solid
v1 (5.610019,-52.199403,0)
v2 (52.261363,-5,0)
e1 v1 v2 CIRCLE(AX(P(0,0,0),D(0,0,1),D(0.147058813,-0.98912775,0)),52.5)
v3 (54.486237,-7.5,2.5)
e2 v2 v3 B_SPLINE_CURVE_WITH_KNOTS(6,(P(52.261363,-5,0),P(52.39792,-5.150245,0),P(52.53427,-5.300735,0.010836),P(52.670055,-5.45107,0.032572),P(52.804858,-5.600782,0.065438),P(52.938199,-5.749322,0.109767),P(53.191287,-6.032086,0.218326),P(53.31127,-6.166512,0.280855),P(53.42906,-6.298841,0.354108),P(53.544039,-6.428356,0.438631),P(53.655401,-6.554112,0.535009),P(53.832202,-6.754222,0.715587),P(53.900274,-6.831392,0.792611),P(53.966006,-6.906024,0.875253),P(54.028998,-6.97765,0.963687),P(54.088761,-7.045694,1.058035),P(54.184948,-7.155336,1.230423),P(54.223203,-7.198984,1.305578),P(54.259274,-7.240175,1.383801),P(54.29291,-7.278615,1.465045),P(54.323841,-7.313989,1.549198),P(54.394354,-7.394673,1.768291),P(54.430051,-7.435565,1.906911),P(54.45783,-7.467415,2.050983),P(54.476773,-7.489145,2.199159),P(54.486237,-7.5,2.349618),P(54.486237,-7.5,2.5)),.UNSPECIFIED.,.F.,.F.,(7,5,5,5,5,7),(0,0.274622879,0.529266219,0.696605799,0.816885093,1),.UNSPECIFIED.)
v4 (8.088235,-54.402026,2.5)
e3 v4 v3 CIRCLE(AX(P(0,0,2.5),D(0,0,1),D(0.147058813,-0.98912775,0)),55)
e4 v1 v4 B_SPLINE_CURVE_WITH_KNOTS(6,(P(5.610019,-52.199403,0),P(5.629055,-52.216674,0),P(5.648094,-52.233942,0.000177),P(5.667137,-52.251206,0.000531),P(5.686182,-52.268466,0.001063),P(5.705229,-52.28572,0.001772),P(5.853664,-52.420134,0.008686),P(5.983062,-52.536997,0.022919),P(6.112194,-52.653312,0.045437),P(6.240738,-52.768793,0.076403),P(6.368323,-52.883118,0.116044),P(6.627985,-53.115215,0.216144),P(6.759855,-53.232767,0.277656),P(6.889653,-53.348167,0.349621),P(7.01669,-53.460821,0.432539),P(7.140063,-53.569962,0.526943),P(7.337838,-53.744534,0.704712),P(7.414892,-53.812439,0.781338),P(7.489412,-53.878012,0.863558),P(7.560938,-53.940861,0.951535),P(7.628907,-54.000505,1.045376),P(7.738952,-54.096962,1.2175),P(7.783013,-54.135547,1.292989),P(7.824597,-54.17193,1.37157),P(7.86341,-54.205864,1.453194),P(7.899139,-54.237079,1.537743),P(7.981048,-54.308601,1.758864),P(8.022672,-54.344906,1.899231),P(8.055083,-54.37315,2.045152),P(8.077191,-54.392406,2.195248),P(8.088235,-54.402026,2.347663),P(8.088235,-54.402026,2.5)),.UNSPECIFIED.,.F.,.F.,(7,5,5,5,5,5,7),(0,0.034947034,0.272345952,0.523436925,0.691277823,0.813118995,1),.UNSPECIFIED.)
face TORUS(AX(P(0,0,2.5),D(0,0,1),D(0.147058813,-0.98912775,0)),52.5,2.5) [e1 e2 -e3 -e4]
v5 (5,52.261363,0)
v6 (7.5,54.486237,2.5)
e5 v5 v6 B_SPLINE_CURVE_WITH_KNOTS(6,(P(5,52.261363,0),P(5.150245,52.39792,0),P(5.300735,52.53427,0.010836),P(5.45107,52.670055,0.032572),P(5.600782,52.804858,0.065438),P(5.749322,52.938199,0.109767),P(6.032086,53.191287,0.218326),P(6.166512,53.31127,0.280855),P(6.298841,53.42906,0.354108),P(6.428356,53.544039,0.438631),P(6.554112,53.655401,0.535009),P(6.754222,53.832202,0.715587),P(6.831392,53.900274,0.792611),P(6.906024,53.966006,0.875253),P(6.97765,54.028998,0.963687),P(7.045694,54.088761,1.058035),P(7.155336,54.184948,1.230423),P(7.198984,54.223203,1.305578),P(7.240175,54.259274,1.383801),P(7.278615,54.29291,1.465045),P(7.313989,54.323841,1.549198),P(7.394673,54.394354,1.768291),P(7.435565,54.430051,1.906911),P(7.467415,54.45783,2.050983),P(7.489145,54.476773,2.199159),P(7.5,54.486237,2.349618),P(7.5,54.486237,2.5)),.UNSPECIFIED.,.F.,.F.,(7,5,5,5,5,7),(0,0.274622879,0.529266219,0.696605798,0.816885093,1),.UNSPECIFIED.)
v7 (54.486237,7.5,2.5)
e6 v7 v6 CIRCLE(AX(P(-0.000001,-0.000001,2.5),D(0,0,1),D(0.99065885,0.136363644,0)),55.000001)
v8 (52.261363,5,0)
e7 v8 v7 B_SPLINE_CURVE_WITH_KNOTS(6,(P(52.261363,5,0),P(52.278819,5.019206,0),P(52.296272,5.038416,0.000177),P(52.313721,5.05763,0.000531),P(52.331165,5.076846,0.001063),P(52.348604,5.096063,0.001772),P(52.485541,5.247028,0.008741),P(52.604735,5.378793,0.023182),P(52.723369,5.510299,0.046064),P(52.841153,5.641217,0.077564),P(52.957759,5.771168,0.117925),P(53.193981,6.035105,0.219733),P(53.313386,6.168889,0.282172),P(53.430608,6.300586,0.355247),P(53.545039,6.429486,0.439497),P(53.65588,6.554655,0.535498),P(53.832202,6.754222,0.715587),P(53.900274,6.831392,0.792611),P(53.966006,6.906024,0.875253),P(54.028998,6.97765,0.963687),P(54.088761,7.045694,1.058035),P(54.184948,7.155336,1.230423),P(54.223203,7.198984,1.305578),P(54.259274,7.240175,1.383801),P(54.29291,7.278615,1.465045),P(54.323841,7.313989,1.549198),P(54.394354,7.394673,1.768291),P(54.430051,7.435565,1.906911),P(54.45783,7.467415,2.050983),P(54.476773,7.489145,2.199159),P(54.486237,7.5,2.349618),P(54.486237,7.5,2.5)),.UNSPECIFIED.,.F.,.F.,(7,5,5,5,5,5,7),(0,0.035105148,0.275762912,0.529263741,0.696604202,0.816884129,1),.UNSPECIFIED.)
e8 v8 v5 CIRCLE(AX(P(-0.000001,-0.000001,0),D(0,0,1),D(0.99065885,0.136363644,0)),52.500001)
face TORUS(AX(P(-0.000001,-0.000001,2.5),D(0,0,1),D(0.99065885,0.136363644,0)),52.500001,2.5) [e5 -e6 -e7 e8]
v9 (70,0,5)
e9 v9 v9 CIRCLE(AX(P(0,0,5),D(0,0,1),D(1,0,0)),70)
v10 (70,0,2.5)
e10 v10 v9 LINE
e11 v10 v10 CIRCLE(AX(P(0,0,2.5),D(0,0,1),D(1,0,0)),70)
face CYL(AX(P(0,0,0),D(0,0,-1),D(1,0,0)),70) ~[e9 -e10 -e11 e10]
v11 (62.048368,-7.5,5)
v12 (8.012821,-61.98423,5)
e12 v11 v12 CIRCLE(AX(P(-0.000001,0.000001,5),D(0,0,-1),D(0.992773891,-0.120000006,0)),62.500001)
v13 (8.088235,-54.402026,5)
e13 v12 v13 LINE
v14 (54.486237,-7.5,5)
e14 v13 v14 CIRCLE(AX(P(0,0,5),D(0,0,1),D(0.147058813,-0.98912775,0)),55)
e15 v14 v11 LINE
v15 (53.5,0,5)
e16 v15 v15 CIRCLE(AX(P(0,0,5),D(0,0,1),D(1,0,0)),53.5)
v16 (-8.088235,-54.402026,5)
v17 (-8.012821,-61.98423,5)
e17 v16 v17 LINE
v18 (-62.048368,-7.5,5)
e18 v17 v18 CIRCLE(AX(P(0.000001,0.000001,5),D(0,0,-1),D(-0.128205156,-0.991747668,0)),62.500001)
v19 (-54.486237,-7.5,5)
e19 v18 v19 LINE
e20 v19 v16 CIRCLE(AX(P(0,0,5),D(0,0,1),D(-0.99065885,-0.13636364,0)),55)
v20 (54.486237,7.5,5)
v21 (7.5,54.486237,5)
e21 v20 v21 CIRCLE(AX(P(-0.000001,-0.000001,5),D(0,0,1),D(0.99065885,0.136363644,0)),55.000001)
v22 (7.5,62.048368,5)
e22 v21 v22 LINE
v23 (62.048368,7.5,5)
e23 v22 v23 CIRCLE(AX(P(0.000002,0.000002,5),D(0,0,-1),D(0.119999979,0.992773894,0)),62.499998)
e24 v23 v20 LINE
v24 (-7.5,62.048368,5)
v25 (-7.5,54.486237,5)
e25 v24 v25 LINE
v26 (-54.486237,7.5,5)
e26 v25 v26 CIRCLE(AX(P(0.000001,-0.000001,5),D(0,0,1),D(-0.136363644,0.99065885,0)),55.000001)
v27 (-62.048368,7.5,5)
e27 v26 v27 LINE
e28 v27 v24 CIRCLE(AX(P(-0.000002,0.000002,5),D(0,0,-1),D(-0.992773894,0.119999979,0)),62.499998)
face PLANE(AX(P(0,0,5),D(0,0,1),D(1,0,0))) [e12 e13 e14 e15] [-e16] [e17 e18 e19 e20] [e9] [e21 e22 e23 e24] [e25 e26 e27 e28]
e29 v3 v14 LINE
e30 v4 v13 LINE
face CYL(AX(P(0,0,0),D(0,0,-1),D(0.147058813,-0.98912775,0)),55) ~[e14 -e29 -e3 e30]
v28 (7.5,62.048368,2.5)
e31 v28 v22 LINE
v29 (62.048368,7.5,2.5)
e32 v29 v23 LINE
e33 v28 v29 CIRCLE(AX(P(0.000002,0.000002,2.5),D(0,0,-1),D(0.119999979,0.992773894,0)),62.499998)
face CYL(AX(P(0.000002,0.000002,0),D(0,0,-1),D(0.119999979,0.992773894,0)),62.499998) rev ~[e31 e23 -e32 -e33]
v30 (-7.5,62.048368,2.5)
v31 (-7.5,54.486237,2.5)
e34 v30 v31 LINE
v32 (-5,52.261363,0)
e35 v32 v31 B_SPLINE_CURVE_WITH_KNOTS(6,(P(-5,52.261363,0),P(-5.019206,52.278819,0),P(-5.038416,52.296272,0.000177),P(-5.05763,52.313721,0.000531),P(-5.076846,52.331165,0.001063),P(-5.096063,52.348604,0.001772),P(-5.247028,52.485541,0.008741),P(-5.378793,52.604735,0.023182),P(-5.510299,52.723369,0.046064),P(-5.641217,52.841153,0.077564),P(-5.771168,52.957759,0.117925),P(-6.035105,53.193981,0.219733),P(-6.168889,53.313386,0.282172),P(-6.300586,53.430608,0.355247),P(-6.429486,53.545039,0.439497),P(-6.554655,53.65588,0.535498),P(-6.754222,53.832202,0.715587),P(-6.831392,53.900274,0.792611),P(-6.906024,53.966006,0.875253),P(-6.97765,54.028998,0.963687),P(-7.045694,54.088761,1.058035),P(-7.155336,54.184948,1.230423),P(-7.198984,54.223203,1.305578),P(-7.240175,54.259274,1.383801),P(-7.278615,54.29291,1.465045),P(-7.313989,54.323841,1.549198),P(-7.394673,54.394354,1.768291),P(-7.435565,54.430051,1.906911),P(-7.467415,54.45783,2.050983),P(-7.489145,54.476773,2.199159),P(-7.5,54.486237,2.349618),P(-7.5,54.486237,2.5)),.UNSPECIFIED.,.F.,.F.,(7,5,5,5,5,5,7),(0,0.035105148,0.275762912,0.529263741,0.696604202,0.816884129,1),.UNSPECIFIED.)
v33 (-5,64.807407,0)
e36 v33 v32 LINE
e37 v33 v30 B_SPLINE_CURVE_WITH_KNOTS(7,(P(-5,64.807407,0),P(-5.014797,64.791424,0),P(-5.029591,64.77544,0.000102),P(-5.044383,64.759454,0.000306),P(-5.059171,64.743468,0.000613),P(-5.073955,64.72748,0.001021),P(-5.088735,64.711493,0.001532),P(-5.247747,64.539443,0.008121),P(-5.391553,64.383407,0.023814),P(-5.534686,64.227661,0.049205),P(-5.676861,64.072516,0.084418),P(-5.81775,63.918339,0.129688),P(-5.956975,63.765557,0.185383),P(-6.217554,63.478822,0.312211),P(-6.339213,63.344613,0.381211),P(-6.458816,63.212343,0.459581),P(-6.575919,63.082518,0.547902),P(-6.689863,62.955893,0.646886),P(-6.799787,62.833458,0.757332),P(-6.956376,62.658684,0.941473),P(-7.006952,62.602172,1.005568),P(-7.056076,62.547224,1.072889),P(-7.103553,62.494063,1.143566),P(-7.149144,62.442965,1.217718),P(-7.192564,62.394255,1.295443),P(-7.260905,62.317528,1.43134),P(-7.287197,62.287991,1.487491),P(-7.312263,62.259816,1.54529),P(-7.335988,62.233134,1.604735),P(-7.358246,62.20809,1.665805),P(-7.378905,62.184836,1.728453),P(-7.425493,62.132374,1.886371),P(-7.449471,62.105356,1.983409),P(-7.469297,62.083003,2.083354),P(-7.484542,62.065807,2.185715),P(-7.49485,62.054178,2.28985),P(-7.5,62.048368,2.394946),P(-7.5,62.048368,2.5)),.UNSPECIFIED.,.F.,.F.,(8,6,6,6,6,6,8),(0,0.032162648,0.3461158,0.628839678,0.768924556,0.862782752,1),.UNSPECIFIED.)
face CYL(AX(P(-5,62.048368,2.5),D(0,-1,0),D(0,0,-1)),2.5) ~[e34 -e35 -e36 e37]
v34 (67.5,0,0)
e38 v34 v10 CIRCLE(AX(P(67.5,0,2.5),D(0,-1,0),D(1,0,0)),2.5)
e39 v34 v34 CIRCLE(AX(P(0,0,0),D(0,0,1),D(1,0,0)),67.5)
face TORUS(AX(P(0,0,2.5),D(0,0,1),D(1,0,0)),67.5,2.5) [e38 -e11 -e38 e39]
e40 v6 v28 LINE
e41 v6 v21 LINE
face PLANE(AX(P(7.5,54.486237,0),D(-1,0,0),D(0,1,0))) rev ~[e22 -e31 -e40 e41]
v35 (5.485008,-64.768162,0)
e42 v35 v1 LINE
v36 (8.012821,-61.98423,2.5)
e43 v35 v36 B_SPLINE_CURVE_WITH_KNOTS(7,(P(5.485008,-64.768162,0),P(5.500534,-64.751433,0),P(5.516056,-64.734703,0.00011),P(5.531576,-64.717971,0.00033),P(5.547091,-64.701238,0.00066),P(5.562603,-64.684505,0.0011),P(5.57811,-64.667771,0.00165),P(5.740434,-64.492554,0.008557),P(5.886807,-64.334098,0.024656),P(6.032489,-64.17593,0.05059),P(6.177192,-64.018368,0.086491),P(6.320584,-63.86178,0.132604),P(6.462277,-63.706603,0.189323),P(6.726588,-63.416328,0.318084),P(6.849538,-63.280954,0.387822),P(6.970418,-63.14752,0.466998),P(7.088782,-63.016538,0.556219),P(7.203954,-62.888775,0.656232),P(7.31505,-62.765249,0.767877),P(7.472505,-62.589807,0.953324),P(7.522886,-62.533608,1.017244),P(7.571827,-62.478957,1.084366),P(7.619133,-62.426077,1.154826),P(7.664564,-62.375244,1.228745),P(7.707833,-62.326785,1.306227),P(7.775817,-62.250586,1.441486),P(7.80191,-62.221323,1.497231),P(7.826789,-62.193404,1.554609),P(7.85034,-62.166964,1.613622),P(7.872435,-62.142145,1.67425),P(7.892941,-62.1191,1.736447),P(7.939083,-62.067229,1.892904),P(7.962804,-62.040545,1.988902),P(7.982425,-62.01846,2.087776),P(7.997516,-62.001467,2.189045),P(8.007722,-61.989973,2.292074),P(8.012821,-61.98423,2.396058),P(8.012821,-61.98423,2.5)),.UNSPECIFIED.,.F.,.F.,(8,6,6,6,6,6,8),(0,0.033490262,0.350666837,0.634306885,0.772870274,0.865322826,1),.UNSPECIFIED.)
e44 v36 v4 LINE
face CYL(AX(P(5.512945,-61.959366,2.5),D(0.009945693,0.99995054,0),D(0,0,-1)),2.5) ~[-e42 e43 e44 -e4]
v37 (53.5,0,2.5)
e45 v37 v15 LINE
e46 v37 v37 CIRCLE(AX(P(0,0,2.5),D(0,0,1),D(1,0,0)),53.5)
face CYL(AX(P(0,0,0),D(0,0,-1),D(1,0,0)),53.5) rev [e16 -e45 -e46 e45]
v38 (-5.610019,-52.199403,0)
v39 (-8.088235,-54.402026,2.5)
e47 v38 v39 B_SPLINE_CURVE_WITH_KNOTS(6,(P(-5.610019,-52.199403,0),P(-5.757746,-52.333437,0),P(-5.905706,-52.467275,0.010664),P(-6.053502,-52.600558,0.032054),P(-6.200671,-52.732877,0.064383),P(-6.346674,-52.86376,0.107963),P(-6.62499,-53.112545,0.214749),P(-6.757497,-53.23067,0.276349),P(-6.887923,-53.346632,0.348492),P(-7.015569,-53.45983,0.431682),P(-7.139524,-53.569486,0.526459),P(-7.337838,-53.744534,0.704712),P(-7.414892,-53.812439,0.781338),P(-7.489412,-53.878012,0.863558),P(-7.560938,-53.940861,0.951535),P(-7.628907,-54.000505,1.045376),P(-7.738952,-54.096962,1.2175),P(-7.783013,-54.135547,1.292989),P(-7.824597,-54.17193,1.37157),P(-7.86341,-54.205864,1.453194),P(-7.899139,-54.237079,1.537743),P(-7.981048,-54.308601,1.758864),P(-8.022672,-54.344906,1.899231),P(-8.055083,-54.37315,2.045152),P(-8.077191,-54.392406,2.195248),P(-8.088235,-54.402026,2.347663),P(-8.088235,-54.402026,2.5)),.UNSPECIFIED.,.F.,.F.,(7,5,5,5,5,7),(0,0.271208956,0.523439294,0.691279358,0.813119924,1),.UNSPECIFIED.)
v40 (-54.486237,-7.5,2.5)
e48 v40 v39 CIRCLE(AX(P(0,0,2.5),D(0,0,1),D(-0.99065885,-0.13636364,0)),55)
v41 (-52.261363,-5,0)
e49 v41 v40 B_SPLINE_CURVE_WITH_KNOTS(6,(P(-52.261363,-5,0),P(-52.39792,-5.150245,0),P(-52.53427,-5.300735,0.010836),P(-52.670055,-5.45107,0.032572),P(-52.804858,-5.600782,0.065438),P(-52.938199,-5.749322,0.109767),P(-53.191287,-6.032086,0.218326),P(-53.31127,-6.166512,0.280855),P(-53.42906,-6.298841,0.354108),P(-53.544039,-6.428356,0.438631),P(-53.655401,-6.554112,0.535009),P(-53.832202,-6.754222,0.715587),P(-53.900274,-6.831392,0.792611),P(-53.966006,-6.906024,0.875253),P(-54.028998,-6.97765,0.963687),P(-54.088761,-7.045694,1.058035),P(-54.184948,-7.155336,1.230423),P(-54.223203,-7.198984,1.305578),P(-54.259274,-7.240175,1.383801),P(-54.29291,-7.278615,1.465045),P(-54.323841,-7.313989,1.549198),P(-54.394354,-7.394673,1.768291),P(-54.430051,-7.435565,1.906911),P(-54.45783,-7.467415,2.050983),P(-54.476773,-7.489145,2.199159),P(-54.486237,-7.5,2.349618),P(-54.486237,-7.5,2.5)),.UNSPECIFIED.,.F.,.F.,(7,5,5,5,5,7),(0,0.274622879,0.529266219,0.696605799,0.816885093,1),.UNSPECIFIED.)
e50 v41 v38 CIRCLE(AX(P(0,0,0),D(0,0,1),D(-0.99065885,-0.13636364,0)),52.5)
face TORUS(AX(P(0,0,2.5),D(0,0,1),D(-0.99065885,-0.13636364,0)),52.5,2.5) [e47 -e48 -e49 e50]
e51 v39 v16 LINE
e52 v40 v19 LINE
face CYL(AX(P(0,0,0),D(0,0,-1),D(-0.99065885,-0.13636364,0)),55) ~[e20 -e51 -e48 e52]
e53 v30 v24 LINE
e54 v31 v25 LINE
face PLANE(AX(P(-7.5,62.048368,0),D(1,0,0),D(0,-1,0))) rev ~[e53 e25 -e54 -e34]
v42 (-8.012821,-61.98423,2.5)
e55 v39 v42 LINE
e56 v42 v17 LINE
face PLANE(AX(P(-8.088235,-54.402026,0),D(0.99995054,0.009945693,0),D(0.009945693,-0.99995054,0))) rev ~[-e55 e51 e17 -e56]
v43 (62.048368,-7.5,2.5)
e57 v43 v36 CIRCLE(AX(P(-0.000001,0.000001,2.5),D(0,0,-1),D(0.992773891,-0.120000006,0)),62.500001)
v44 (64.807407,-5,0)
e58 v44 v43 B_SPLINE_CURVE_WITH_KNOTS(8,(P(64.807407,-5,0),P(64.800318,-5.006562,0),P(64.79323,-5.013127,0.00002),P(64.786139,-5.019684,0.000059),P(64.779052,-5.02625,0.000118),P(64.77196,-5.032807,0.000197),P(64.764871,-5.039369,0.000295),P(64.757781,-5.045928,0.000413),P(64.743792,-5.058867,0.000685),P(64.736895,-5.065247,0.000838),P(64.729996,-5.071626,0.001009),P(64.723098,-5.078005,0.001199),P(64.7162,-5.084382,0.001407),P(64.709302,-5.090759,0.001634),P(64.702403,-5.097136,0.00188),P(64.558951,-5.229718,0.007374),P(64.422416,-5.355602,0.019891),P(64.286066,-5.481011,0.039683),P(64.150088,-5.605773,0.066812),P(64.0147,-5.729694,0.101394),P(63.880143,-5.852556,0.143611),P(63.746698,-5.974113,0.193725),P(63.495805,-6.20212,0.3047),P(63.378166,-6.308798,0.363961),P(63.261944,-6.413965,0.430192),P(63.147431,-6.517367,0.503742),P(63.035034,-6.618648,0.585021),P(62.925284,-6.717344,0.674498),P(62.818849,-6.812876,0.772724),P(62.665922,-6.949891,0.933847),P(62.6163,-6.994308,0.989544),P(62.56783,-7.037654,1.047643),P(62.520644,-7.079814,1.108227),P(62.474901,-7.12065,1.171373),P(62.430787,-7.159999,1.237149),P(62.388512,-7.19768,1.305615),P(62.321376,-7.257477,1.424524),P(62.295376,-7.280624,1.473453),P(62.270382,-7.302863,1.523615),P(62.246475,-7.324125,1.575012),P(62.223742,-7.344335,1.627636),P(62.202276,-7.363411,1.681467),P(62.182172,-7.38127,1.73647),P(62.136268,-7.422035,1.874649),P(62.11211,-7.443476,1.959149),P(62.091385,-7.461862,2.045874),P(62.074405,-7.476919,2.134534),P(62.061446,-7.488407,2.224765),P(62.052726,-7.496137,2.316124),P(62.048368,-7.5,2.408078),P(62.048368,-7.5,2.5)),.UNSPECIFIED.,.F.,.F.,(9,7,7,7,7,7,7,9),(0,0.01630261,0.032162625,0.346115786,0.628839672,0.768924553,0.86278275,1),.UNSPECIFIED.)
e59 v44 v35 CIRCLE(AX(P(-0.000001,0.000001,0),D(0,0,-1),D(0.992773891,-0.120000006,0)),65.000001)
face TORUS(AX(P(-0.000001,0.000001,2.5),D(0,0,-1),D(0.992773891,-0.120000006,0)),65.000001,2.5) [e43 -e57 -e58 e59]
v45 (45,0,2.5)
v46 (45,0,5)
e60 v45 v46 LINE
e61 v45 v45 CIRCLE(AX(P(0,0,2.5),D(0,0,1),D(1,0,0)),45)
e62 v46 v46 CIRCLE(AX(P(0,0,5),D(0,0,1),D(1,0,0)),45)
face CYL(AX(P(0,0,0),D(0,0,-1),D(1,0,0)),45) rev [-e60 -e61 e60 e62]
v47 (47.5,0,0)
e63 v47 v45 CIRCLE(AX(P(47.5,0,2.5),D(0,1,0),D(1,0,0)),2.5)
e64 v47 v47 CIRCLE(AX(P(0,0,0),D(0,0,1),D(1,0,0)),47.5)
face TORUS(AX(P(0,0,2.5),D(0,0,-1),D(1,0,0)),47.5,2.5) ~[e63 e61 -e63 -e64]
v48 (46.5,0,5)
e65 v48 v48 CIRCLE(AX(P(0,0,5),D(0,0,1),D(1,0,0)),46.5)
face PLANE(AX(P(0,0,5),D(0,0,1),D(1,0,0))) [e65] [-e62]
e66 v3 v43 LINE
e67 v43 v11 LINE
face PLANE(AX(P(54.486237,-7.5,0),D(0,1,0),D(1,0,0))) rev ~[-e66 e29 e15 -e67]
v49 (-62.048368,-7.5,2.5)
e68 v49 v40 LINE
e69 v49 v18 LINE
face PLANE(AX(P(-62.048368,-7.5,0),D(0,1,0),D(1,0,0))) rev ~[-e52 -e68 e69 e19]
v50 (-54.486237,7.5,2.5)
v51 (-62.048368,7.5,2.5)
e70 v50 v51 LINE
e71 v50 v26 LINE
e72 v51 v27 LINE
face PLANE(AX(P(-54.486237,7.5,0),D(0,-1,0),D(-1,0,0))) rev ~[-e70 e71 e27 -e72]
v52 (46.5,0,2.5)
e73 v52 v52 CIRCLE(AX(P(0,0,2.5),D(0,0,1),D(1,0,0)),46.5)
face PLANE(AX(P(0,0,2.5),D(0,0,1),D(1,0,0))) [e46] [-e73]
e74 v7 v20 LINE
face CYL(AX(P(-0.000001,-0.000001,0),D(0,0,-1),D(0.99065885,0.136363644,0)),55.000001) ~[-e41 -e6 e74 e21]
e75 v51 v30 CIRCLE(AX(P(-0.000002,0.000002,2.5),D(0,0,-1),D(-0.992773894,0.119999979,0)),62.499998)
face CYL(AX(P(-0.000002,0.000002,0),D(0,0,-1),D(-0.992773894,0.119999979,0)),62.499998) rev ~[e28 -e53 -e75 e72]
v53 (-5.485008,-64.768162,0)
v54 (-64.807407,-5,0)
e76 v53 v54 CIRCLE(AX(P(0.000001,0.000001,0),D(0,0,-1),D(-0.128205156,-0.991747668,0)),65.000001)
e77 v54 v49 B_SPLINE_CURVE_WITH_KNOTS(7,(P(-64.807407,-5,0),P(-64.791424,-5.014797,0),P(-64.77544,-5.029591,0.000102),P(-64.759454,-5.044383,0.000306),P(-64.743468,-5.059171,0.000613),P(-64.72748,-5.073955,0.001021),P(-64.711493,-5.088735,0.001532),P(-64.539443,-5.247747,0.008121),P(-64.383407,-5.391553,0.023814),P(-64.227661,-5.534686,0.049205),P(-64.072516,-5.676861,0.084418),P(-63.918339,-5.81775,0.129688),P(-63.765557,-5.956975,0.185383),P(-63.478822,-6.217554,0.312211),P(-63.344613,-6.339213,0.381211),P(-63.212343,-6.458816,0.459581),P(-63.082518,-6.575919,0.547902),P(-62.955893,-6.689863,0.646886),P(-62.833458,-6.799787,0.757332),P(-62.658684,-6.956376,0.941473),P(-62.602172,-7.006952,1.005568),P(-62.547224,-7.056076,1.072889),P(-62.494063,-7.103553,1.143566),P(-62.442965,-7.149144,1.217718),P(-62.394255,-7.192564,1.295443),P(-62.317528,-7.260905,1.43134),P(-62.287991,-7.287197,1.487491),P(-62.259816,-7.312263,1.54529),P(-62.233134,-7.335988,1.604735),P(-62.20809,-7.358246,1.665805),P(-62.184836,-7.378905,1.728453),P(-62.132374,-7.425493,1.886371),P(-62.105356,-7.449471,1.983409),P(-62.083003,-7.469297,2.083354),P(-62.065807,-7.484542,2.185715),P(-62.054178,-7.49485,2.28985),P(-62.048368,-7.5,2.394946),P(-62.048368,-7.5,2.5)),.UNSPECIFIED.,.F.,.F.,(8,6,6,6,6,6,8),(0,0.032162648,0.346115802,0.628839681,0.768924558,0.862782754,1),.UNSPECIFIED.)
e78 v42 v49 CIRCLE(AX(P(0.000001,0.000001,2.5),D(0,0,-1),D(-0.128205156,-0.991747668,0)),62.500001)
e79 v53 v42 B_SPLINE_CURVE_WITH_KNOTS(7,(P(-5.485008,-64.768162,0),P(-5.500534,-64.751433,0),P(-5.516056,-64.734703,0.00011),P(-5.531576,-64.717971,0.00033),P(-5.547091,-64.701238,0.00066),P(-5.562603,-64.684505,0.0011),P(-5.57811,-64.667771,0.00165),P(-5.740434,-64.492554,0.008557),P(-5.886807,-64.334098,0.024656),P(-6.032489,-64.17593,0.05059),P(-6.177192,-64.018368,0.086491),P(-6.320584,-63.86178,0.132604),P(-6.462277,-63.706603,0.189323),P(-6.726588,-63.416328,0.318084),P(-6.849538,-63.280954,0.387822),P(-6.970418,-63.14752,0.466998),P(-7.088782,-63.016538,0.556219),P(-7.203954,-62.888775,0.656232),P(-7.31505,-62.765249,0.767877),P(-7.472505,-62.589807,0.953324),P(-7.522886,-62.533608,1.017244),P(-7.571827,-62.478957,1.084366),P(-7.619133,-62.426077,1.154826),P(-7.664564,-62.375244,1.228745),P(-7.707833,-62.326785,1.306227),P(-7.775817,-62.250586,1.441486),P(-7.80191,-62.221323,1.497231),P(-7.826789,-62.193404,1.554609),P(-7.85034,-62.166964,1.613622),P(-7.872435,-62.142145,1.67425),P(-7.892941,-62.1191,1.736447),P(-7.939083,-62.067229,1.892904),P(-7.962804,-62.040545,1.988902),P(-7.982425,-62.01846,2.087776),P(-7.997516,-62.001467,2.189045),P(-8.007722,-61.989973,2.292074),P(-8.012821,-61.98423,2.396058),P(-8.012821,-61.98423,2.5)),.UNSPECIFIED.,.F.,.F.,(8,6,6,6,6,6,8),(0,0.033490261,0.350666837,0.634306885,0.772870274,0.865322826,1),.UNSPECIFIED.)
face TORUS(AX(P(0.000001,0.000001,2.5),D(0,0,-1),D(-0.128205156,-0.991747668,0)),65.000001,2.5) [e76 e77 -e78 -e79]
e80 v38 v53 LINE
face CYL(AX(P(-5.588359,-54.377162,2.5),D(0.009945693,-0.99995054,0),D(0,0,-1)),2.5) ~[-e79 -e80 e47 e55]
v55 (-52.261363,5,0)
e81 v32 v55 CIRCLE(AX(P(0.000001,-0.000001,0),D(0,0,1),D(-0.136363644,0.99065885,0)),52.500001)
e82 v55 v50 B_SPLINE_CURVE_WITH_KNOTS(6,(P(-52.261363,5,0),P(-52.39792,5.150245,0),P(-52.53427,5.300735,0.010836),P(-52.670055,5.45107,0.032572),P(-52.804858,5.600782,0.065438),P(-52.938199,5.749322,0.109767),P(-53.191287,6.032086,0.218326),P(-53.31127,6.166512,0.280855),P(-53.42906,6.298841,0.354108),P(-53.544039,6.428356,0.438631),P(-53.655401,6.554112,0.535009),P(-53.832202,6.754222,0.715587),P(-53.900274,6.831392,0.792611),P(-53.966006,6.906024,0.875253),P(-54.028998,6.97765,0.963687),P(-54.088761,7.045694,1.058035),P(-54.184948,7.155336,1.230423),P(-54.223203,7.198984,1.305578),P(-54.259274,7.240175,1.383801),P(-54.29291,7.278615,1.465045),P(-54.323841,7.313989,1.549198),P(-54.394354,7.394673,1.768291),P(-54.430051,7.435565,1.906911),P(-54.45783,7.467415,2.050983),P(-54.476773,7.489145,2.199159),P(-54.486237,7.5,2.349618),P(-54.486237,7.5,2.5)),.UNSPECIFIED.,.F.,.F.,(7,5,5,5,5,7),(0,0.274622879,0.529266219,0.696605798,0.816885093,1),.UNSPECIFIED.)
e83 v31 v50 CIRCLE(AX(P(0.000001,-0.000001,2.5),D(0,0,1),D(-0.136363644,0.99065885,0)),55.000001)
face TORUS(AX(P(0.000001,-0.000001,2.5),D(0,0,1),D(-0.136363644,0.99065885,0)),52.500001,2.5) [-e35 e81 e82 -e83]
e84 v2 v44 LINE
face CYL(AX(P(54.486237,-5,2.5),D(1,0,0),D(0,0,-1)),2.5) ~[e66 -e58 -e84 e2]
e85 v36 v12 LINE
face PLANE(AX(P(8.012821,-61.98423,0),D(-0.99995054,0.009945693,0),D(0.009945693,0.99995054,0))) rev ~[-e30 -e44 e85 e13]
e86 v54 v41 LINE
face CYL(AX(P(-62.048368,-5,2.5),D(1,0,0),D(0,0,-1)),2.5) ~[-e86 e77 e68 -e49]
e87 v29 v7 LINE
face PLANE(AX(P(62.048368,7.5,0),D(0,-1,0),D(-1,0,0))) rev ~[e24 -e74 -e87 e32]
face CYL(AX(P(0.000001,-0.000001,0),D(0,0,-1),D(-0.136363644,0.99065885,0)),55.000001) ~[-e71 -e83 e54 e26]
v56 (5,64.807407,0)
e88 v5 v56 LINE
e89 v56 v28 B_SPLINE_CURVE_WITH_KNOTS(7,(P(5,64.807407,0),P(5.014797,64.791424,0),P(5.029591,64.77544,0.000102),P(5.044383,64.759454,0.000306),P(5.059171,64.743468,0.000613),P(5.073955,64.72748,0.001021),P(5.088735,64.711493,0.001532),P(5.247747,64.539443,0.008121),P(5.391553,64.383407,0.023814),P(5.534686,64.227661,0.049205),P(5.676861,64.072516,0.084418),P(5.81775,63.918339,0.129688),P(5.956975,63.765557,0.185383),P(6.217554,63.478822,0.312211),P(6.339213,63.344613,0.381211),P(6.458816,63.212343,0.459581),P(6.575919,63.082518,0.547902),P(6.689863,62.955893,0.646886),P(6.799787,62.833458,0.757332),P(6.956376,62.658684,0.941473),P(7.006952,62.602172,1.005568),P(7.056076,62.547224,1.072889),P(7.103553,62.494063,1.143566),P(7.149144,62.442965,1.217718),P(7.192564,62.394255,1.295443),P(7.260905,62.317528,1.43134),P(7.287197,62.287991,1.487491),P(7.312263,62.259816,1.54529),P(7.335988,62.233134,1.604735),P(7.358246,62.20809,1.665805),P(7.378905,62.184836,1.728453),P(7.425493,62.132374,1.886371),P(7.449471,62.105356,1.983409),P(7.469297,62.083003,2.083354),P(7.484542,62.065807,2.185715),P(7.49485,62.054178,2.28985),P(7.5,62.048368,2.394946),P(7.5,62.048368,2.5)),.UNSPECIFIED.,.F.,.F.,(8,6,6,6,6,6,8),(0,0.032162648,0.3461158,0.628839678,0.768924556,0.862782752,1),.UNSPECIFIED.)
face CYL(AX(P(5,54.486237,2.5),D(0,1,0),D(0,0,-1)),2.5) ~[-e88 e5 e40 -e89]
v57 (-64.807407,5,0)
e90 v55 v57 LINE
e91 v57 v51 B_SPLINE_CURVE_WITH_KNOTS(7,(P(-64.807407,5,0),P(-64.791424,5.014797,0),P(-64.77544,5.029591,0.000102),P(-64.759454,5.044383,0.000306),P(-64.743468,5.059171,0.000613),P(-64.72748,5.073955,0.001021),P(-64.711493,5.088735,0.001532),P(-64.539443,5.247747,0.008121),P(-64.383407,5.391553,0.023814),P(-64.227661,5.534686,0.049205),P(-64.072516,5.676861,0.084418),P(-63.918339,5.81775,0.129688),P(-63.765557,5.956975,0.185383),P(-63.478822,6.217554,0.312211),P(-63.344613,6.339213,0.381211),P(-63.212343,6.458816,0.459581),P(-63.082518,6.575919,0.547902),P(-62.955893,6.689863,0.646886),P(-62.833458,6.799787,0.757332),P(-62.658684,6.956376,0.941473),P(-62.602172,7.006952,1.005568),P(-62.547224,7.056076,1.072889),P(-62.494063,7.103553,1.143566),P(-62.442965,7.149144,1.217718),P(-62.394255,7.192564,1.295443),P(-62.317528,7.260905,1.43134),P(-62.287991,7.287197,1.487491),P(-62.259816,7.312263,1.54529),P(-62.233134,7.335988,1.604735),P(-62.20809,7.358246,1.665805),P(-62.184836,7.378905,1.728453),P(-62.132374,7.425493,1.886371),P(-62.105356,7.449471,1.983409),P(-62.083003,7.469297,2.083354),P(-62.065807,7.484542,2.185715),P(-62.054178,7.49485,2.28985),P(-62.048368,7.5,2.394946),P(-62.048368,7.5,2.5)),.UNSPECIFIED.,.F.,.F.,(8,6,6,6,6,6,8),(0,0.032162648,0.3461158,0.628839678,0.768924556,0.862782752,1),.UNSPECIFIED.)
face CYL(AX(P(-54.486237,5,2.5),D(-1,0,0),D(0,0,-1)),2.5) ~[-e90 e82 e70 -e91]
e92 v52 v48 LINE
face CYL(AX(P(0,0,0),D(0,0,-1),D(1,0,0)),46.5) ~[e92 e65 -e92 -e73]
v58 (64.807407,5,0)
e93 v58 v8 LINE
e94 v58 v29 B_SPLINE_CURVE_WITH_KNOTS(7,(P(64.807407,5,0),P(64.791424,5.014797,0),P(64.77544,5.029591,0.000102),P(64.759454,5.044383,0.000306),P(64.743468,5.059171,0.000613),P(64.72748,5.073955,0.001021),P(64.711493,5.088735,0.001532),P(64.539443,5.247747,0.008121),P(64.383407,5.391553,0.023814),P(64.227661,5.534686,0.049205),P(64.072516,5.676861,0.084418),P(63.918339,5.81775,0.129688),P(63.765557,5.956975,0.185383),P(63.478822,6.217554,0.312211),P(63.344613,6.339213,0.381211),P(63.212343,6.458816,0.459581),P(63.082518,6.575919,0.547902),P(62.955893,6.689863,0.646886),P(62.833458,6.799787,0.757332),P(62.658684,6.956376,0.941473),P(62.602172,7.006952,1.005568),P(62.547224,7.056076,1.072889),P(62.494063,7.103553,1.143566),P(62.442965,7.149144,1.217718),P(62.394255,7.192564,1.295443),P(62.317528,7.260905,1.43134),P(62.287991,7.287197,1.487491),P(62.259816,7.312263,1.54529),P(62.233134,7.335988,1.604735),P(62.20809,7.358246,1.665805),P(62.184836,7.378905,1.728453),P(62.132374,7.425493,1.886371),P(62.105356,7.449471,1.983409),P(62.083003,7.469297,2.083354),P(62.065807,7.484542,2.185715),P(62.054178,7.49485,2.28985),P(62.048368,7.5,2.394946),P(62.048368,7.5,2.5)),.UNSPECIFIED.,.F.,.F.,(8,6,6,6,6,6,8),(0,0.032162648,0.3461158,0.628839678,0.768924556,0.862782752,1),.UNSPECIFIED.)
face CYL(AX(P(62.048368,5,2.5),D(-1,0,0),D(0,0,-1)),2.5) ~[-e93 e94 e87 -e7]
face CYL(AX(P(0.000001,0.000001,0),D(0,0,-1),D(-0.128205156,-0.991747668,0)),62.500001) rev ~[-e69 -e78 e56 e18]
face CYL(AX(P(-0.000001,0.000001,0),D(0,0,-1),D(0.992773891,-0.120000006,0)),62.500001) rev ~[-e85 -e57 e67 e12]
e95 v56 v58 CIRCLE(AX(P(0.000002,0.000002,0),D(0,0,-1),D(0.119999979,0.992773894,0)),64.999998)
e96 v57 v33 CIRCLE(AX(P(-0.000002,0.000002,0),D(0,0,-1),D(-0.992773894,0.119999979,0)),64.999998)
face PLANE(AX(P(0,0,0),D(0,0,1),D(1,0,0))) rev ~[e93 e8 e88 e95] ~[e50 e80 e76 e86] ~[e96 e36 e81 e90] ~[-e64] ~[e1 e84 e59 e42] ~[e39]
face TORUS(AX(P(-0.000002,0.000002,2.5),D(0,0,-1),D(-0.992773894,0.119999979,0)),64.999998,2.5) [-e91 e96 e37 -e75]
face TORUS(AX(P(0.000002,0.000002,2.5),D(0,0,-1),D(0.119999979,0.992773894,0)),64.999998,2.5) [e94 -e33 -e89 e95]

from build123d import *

# Parameters (mm, degrees)
F0_R     = 70
F0_R_2   = 53.5
F0_R_3   = 46.5
F0_R_4   = 45
F1_DEPTH = 5
F2_DEPTH = 2.5
F4_R     = 2.5


with BuildPart() as f1:
    # F0 (on Top) → F1 (new body)
    with BuildSketch(Plane.XY):
        Circle(F0_R)
        with BuildLine():
            ThreePointArc((-8.012821, -61.98423), (-44.376518, -44.011074), (-62.048368, -7.5))
            Line((-62.048368, -7.5), (-54.486237, -7.5))
            ThreePointArc((-54.486237, -7.5), (-39.100398, -38.680213), (-8.088235, -54.402026))
            Line((-8.088235, -54.402026), (-8.012821, -61.98423))
        make_face(mode=Mode.SUBTRACT)
        with BuildLine():
            ThreePointArc((62.048368, -7.5), (44.376518, -44.011074), (8.012821, -61.98423))
            Line((8.012821, -61.98423), (8.088235, -54.402026))
            ThreePointArc((8.088235, -54.402026), (39.100398, -38.680213), (54.486237, -7.5))
            Line((54.486237, -7.5), (62.048368, -7.5))
        make_face(mode=Mode.SUBTRACT)
        with BuildLine():
            ThreePointArc((-62.048368, 7.5), (-44.194174, 44.194174), (-7.5, 62.048368))
            Line((-7.5, 62.048368), (-7.5, 54.486237))
            ThreePointArc((-7.5, 54.486237), (-38.890873, 38.890873), (-54.486237, 7.5))
            Line((-54.486237, 7.5), (-62.048368, 7.5))
        make_face(mode=Mode.SUBTRACT)
        Circle(F0_R_2, mode=Mode.SUBTRACT)
        with BuildLine():
            Line((7.5, 54.486237), (7.5, 62.048368))
            ThreePointArc((7.5, 62.048368), (44.194174, 44.194174), (62.048368, 7.5))
            Line((62.048368, 7.5), (54.486237, 7.5))
            ThreePointArc((54.486237, 7.5), (38.890873, 38.890873), (7.5, 54.486237))
        make_face(mode=Mode.SUBTRACT)
        Circle(F0_R_3)
        Circle(F0_R_4, mode=Mode.SUBTRACT)
    extrude(amount=F1_DEPTH)


with BuildPart() as f2:
    # F0 (on Top) → F2 (new body)
    with BuildSketch(Plane.XY):
        Circle(F0_R_2)
        Circle(F0_R_3, mode=Mode.SUBTRACT)
    extrude(amount=F2_DEPTH)


with BuildPart() as f1_1:
    add(f1.part)

    # F3: union F2
    add(f2.part)

    # F4
    f4_edges = [f1_1.edges().sort_by_distance(p)[0] for p in [
        (-70, 0, 0),
        (-44.376518, -44.011074, 0),
        (-58.267303, -7.5, 0),
        (-39.100398, -38.680213, 0),
        (-8.050528, -58.193128, 0),
        (39.100398, -38.680213, 0),
        (58.267303, -7.5, 0),
        (44.376518, -44.011074, 0),
        (8.050528, -58.193128, 0),
        (-44.194174, 44.194174, 0),
        (-7.5, 58.267303, 0),
        (-38.890873, 38.890873, 0),
        (-58.267303, 7.5, 0),
        (44.194174, 44.194174, 0),
        (58.267303, 7.5, 0),
        (38.890873, 38.890873, 0),
        (7.5, 58.267303, 0),
        (-45, 0, 0),
    ]]
    fillet(f4_edges, radius=F4_R)


solid = f1_1.part
